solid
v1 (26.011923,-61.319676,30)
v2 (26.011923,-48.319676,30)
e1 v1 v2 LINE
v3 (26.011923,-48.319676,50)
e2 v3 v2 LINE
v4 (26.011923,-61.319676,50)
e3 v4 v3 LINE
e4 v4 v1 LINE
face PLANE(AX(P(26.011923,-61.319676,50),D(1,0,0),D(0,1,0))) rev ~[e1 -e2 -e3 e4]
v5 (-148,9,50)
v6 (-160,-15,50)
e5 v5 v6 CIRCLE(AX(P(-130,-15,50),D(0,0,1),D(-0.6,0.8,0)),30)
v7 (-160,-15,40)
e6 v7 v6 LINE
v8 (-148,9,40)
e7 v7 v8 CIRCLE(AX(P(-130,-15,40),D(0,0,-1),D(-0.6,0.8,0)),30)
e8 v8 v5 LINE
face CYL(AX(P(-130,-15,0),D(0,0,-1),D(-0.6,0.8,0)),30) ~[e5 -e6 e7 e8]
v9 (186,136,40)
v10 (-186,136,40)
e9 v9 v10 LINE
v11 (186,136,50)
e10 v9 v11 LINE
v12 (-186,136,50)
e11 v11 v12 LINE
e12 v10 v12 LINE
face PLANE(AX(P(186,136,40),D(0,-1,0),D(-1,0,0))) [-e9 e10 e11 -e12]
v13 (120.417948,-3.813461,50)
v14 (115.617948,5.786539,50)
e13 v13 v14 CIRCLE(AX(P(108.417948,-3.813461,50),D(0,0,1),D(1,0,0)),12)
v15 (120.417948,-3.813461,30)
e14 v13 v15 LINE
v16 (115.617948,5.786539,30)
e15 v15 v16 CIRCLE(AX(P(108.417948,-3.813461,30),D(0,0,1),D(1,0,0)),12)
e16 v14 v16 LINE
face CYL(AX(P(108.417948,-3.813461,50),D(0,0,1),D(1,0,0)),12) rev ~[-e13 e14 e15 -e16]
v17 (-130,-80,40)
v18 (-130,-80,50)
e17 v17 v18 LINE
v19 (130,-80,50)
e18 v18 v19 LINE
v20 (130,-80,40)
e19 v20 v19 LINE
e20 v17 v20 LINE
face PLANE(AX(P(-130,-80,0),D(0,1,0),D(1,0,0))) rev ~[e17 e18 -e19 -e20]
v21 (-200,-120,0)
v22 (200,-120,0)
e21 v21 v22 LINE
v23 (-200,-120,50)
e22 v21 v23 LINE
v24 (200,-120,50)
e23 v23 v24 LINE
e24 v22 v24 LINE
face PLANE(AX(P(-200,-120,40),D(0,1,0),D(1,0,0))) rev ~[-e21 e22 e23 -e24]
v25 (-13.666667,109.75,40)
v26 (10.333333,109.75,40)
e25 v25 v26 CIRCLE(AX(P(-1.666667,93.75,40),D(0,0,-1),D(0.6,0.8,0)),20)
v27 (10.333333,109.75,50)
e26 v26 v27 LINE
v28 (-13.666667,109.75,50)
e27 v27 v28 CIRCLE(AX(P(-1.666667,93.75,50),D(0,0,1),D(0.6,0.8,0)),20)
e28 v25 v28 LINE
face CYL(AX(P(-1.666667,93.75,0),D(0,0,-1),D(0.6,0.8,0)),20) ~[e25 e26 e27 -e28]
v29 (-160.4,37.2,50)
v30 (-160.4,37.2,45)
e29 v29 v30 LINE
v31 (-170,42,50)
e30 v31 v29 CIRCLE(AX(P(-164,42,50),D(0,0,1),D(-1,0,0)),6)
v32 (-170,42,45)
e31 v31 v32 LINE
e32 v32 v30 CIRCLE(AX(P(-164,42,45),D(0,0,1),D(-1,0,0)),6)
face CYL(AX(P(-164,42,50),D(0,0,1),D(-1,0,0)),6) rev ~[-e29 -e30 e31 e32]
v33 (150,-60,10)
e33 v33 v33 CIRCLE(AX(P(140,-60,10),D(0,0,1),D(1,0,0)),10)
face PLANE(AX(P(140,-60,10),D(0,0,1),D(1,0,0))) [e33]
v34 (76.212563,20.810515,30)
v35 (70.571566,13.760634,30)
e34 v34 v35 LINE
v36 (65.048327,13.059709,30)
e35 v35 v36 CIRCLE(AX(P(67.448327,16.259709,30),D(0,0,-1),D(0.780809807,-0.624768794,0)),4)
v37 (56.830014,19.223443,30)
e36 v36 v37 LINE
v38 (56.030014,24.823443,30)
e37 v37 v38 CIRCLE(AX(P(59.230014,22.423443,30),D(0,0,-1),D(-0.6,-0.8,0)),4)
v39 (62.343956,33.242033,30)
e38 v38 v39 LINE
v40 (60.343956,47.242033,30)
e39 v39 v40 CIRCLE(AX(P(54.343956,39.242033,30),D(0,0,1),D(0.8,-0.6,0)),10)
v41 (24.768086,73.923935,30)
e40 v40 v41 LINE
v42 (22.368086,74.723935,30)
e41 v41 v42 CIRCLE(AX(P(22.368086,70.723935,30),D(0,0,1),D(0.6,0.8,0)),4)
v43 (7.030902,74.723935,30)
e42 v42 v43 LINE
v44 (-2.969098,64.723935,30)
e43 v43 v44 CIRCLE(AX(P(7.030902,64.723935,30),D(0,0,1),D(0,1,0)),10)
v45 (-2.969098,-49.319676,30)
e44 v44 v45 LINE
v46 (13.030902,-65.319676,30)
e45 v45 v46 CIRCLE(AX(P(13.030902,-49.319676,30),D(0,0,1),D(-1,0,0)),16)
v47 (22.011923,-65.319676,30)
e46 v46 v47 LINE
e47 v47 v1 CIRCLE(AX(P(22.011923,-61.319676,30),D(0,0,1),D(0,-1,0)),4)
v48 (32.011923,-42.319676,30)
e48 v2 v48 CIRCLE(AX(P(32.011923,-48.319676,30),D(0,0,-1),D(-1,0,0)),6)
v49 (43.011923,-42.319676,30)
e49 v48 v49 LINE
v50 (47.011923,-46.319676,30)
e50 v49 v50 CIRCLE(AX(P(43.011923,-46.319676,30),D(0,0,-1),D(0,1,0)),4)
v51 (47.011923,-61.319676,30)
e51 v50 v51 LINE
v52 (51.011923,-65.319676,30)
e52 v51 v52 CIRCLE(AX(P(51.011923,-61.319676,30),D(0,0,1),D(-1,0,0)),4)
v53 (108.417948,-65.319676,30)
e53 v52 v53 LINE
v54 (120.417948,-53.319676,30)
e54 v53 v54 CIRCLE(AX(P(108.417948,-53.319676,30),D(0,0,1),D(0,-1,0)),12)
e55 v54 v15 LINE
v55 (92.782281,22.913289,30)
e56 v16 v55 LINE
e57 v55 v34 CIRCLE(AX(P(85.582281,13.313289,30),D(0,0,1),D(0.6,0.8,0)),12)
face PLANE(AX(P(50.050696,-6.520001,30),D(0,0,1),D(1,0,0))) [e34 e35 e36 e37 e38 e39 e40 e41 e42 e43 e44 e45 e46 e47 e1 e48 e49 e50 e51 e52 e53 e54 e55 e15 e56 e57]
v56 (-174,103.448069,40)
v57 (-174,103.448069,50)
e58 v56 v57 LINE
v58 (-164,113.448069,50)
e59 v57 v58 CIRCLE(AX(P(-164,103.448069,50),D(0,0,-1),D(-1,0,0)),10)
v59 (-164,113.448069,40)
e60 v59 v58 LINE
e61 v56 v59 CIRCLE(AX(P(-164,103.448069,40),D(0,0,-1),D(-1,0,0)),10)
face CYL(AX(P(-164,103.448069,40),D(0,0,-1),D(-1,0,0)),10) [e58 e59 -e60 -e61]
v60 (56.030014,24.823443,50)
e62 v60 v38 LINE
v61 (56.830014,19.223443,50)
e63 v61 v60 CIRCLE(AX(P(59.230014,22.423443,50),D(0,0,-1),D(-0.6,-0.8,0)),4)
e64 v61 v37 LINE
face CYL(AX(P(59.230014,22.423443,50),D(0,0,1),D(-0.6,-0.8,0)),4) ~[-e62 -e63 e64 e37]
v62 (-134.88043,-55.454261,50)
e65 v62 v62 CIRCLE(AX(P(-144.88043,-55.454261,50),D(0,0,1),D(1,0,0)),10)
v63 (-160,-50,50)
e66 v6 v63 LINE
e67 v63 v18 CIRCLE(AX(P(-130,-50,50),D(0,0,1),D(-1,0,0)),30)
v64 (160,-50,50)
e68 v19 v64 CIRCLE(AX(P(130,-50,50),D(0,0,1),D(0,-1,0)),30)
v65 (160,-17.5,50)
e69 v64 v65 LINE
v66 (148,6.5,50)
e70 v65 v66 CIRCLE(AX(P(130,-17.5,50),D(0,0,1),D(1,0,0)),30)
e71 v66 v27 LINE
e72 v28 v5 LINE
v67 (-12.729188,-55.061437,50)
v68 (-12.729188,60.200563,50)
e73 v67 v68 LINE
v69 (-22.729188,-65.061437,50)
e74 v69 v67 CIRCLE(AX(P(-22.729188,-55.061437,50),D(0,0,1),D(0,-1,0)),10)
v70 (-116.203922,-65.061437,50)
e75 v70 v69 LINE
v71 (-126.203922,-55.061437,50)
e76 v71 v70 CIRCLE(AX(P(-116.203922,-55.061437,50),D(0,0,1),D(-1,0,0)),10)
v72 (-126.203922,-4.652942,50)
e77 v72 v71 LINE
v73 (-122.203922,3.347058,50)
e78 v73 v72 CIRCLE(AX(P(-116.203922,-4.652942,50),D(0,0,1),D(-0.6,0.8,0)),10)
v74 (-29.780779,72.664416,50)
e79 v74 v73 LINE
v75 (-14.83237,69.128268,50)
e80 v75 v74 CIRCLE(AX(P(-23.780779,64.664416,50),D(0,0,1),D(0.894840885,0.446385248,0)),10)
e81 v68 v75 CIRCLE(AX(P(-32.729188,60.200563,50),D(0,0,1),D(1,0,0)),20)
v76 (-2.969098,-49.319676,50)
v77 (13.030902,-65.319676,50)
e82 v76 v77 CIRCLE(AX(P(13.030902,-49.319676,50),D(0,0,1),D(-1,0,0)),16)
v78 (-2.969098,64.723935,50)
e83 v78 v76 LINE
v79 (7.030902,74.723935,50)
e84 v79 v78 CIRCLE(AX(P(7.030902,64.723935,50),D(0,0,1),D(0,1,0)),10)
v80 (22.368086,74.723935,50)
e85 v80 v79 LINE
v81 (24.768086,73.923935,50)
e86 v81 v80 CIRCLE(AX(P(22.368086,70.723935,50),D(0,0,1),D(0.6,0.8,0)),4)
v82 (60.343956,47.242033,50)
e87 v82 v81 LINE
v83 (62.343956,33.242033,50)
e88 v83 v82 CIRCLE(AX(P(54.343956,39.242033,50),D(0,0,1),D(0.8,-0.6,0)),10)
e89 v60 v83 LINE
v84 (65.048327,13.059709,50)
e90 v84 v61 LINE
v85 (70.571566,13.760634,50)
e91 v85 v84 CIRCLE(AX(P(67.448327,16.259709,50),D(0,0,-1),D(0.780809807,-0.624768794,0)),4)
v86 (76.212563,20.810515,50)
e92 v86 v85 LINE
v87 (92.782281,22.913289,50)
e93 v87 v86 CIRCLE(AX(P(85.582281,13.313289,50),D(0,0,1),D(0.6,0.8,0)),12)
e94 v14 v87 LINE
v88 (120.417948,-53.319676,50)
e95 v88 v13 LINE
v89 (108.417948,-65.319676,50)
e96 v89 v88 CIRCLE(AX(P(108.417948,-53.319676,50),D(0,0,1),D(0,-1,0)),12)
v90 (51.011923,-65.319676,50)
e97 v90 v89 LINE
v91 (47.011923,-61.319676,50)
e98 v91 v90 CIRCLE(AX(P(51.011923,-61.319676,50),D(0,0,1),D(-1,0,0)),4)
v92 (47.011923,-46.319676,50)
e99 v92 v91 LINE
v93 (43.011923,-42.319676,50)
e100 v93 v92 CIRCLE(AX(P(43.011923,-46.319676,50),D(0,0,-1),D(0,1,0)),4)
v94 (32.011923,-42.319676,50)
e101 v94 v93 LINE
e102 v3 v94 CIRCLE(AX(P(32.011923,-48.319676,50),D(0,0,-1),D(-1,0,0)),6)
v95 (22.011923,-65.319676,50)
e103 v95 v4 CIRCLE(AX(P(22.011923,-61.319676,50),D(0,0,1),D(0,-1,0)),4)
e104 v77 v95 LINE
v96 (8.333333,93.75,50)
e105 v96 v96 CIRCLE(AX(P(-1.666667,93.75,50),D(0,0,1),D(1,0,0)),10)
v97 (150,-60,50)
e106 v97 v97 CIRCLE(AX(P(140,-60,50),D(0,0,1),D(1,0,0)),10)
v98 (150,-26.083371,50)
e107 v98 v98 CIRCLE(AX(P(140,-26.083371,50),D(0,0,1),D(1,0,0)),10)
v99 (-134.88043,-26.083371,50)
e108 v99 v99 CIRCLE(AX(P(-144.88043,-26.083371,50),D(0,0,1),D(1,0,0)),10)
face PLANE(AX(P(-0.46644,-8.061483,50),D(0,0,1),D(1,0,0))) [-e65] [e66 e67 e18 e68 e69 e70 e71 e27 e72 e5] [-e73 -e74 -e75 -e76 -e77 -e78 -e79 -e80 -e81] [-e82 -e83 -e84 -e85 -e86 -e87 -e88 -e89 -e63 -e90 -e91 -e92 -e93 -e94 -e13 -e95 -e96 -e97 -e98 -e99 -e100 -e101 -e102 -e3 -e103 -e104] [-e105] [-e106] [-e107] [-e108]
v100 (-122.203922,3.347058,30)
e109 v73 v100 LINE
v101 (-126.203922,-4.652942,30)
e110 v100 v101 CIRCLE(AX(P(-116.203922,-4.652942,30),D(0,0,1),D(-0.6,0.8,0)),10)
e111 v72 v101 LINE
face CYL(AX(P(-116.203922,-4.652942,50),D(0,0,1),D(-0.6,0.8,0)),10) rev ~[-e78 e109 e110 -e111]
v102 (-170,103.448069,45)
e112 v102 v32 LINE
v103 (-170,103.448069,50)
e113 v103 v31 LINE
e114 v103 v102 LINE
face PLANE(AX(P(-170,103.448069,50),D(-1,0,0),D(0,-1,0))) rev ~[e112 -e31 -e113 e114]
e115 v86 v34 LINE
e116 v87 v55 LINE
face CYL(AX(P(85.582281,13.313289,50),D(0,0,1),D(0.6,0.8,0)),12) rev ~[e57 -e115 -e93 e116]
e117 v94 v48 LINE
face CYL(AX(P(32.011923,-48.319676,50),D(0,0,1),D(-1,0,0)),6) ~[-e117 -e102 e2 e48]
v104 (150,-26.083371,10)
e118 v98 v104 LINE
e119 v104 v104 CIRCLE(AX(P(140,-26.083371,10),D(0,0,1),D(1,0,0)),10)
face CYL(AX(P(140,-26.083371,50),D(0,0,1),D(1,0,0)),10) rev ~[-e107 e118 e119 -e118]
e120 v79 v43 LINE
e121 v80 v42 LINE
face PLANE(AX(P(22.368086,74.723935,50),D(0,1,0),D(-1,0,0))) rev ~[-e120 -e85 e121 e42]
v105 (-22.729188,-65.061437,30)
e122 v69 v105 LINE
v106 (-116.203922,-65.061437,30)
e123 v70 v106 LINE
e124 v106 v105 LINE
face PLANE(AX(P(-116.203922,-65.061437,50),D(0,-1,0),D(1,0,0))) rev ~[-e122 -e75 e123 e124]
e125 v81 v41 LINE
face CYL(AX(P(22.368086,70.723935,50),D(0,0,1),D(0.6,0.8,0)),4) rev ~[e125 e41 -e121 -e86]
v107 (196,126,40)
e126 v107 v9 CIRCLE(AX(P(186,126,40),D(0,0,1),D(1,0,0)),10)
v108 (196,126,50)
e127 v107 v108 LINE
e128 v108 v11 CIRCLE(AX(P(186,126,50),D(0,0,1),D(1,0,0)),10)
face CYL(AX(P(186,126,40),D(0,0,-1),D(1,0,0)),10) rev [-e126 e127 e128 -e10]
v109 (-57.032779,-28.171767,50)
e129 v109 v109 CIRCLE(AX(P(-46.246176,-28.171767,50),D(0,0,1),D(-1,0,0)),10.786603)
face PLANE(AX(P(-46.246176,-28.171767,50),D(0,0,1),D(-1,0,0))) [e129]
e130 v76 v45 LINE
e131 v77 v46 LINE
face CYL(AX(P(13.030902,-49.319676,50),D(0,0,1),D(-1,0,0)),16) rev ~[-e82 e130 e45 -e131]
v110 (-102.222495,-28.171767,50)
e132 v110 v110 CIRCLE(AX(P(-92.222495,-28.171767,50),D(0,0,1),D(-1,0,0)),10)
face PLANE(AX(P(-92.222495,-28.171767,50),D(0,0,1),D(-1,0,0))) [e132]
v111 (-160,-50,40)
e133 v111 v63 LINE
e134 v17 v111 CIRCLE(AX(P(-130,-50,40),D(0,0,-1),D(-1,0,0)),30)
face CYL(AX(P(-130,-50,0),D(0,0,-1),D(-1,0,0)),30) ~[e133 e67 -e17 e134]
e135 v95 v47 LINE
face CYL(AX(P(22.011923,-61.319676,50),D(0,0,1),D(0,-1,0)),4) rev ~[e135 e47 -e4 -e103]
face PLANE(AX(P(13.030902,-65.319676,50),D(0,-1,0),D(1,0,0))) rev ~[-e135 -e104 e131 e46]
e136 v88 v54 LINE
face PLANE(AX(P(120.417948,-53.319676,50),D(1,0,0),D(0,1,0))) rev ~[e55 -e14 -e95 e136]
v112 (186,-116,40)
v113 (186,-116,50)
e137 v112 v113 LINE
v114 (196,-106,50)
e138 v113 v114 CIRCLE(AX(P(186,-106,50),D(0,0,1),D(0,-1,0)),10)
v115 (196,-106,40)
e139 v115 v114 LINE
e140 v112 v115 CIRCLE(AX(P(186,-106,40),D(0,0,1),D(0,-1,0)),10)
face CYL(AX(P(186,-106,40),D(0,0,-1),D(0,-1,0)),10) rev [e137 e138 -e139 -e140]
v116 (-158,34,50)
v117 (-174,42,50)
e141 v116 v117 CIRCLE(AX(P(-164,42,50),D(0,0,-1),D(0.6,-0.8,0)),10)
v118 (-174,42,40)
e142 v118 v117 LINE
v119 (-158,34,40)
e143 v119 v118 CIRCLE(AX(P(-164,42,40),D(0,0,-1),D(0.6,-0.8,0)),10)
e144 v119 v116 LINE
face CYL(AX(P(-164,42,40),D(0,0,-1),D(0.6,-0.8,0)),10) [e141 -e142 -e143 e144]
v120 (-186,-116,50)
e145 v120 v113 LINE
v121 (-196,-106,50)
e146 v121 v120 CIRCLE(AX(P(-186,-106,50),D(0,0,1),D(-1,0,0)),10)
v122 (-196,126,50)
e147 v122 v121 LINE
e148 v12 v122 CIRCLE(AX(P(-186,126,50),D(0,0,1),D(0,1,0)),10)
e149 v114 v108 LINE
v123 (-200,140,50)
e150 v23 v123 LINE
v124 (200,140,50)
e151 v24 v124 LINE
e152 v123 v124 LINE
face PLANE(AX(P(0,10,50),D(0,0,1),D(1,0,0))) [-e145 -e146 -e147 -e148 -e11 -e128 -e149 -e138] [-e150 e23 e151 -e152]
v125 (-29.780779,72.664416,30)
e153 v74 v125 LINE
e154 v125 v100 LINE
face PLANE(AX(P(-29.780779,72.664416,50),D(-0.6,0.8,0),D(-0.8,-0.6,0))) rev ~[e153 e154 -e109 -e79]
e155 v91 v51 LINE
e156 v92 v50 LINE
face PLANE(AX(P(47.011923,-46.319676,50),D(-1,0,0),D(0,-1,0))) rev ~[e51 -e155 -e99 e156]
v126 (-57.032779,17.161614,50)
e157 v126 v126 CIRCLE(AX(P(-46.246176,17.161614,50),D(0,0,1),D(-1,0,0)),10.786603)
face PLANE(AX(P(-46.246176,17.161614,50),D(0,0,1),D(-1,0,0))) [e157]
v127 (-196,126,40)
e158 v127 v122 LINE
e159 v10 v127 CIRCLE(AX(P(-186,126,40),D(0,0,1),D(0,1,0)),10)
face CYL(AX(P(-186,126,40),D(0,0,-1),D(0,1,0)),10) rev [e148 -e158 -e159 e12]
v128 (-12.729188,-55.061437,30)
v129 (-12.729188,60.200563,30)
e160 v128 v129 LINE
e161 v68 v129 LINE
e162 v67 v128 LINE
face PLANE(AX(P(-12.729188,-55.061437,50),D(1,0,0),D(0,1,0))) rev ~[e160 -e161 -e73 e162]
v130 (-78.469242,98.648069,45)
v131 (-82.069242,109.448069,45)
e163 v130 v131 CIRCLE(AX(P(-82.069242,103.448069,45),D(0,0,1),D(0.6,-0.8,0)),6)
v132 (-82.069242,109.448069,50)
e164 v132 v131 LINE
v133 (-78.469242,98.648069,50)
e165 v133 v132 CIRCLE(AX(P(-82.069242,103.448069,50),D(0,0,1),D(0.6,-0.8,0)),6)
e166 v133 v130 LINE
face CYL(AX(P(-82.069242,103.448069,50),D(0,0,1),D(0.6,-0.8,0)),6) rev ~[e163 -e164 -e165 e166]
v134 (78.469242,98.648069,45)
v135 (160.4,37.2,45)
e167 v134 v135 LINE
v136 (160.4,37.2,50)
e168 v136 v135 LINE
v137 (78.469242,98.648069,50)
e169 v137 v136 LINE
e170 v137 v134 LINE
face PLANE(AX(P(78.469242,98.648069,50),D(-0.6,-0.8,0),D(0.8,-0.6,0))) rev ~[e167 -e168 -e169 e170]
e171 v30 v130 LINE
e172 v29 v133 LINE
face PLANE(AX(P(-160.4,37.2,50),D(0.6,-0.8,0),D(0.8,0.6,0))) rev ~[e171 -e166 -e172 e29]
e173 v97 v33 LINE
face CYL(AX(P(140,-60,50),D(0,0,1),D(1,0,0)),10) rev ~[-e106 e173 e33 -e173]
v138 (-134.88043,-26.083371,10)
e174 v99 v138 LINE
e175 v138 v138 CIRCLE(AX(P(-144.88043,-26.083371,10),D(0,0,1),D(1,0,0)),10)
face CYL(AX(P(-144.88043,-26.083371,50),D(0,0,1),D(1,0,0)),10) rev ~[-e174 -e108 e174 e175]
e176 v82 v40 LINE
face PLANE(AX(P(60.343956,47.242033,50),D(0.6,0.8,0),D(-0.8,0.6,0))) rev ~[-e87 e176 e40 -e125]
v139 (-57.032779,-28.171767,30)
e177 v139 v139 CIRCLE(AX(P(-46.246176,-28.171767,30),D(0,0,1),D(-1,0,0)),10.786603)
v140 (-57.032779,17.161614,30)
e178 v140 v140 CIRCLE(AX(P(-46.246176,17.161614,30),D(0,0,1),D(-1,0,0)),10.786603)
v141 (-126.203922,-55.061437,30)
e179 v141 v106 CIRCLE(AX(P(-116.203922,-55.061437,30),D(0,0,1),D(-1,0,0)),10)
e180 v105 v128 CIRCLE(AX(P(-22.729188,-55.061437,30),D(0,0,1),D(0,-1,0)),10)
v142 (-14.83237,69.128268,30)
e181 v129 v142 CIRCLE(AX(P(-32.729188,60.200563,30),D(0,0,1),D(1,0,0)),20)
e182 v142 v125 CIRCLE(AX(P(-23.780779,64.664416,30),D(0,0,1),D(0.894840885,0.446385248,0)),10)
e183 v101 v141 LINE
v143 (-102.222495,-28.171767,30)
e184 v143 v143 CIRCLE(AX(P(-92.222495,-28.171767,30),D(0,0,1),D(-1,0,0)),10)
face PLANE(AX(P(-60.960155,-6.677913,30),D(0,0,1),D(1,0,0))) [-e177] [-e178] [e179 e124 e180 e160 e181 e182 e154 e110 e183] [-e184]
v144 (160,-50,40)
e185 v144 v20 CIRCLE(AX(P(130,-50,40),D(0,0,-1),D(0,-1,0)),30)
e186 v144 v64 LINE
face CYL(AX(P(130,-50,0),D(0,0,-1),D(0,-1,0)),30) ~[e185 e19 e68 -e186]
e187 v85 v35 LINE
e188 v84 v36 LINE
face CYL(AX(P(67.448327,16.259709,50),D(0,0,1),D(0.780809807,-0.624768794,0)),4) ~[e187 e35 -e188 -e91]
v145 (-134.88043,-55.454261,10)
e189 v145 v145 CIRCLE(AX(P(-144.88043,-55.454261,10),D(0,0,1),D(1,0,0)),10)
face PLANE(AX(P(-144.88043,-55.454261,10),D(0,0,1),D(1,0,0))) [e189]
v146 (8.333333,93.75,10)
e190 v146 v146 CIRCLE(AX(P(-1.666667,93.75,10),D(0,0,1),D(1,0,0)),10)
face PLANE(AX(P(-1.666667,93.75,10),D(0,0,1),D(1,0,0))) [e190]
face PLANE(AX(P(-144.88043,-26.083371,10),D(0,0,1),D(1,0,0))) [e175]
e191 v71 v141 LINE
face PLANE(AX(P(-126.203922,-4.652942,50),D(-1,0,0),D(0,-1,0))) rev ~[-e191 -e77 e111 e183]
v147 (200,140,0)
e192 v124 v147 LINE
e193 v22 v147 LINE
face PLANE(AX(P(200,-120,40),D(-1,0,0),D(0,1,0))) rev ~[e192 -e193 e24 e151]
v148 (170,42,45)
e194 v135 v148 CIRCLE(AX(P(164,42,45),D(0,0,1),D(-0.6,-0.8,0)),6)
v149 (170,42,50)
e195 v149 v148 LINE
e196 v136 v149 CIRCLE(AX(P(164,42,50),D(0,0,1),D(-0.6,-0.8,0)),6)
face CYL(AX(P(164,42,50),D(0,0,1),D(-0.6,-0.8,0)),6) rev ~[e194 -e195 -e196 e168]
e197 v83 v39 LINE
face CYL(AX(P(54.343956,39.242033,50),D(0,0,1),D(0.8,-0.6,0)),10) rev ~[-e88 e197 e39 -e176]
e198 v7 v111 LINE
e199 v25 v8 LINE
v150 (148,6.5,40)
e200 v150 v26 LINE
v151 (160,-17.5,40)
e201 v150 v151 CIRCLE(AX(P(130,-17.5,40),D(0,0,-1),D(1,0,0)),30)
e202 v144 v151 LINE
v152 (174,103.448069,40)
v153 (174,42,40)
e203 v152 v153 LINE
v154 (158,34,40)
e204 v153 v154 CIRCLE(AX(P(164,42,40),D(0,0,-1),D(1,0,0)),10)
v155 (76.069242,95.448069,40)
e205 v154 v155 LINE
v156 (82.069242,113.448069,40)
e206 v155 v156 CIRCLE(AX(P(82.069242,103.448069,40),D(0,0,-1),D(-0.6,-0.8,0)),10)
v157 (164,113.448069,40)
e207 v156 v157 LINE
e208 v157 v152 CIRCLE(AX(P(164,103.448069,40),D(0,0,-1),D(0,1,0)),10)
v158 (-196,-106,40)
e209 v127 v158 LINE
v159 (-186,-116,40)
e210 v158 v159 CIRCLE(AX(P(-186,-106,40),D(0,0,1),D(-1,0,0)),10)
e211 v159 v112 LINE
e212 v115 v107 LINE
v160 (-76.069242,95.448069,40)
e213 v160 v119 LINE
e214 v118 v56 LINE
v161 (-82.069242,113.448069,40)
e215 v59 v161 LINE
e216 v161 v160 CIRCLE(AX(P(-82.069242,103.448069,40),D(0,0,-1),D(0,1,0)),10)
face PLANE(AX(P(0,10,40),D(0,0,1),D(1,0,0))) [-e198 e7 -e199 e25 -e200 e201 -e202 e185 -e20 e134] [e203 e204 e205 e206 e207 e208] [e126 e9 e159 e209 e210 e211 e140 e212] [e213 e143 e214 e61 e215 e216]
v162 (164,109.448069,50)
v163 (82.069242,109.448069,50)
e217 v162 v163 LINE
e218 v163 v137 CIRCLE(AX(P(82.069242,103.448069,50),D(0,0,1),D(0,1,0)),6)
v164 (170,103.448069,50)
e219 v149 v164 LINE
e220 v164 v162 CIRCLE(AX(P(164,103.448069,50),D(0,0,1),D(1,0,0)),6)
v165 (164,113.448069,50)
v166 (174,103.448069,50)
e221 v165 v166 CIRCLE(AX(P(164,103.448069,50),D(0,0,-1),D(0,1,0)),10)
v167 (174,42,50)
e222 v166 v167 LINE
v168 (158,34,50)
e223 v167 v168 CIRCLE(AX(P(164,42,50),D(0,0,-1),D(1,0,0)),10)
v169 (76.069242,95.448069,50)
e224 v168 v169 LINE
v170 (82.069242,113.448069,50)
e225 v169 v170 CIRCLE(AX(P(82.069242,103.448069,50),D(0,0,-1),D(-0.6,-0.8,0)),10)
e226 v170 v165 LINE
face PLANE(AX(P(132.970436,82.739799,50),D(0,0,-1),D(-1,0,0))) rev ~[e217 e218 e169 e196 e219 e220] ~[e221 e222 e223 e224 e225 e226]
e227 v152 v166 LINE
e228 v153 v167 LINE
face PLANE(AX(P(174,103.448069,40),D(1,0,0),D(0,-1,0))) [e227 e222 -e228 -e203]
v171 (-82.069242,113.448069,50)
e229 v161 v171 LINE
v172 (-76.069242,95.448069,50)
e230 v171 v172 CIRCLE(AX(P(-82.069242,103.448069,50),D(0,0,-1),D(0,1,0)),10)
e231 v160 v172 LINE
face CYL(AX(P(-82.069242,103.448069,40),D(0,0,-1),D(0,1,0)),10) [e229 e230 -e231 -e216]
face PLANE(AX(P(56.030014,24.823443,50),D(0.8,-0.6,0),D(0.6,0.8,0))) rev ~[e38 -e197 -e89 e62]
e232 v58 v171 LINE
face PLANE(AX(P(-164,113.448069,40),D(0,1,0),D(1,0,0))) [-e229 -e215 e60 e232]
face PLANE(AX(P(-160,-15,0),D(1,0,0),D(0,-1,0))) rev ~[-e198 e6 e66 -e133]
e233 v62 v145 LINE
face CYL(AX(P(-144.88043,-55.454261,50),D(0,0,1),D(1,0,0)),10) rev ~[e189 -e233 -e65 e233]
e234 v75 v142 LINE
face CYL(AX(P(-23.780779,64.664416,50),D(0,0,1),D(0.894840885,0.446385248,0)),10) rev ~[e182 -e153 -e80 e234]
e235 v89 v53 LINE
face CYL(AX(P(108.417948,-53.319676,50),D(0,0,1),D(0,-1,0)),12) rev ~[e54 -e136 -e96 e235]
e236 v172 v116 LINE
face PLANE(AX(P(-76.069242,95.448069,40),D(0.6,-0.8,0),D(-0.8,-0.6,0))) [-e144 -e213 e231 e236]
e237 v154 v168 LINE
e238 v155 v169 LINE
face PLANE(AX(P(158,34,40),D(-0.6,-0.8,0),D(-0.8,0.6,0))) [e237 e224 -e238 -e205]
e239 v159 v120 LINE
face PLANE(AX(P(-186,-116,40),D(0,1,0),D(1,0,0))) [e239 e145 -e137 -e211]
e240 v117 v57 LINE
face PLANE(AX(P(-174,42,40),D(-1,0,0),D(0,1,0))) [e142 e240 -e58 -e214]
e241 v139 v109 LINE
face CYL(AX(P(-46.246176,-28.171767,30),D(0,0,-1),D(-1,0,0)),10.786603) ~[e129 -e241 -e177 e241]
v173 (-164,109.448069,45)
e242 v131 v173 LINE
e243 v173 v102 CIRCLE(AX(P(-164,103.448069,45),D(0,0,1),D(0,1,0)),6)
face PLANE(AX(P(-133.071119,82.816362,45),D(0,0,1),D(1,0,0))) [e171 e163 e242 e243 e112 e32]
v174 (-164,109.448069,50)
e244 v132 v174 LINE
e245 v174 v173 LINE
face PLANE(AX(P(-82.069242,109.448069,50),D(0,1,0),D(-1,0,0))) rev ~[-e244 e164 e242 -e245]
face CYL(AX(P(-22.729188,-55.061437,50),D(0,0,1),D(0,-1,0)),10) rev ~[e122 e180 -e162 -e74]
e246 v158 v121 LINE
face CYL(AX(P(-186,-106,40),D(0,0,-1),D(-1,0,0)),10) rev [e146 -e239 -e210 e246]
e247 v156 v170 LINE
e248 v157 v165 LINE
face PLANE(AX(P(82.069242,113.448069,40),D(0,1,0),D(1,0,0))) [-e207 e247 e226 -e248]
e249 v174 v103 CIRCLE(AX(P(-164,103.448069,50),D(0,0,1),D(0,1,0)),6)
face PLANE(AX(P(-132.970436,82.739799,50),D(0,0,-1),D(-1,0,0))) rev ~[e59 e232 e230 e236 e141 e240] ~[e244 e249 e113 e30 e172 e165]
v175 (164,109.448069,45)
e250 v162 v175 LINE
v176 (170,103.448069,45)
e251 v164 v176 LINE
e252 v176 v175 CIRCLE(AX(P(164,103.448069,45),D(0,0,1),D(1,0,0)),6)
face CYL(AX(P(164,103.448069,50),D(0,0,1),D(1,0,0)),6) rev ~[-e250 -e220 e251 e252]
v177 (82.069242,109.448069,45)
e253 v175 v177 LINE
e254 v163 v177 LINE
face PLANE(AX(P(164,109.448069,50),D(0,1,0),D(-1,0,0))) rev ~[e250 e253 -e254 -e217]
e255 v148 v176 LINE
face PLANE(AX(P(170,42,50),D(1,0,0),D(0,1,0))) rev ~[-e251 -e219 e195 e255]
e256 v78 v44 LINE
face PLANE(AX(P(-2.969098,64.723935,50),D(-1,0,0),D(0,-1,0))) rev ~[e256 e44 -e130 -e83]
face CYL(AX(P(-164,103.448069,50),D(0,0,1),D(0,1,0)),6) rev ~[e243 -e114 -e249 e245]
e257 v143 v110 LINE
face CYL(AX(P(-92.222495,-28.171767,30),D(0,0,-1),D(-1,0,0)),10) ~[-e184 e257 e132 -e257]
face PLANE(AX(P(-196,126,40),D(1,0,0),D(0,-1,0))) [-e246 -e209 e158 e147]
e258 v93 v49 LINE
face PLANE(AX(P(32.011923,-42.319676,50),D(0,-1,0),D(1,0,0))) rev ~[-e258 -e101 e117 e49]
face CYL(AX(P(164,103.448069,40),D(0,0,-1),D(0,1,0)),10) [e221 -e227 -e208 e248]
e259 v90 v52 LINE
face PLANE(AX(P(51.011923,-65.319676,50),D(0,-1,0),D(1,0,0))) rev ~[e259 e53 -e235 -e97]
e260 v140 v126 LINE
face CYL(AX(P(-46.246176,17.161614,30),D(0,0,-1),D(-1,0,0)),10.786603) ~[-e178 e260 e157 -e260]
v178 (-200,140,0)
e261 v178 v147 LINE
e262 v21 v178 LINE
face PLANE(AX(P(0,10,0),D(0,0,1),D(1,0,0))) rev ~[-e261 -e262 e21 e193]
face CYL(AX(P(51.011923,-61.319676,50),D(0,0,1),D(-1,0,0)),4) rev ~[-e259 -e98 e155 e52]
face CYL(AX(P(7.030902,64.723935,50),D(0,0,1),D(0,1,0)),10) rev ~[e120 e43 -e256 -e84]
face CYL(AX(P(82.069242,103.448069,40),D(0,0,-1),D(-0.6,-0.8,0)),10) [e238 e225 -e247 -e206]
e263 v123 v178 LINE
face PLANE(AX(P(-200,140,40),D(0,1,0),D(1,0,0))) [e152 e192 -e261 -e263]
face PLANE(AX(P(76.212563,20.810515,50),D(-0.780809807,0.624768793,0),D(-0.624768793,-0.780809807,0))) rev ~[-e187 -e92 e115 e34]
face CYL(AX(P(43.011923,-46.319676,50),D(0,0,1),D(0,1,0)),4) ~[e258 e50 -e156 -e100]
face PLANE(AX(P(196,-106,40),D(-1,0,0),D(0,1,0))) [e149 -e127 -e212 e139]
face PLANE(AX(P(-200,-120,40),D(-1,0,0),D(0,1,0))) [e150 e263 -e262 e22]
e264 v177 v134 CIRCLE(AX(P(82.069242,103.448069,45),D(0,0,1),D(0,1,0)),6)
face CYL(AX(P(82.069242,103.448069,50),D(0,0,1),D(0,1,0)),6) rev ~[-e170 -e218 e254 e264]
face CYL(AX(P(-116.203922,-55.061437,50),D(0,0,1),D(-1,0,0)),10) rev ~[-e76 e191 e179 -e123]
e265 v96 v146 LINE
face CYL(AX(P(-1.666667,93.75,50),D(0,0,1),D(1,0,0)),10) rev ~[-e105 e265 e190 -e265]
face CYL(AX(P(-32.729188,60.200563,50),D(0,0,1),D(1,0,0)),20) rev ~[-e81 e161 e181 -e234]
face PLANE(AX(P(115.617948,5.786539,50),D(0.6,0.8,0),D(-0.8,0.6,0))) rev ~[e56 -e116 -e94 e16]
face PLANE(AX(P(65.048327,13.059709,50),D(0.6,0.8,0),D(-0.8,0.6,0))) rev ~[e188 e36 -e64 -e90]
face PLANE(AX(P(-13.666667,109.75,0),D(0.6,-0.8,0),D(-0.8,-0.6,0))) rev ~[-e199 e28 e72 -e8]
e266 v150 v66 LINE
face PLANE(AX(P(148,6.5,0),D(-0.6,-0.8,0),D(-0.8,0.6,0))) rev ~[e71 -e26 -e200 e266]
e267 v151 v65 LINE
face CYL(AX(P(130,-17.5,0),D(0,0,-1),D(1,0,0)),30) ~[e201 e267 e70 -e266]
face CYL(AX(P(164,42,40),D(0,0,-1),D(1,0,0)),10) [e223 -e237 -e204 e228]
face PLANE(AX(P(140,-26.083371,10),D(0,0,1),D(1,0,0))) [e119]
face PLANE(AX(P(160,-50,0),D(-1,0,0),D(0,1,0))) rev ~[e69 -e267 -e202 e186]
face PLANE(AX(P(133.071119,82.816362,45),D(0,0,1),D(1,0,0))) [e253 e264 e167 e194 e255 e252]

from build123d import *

# Parameters (mm, degrees)
BASE_TRIANGLE_DEPTH  = 50
SKETCH5_W            = 400
SKETCH5_H            = 260
BASE_RECTANGLE_DEPTH = 40
POCKETS_DEPTH        = 20
SKETCH3_R            = 10
CUT_HOLES_DEPTH      = 40
SKETCH4_R            = 10.786602673
SKETCH4_R_2          = 10
POCKET_BOSS_DEPTH    = 20
SKETCH6_W            = 400
SKETCH6_H            = 260
RIM_DEPTH            = 10
TRI_BOSS_DEPTH       = 10
TRI_POCK_S_DEPTH     = 5


with BuildPart() as part:
    # Sketch1 → Base - Triangle (new body)
    with BuildSketch(Plane.XY):
        with BuildLine():
            Line((-13.666666667, 109.75), (-148, 9))
            ThreePointArc((-148, 9), (-156.83281573, -1.583592135), (-160, -15))
            Line((-160, -15), (-160, -50))
            ThreePointArc((-160, -50), (-151.213203436, -71.213203436), (-130, -80))
            Line((-130, -80), (130, -80))
            ThreePointArc((130, -80), (151.213203436, -71.213203436), (160, -50))
            Line((160, -50), (160, -17.5))
            ThreePointArc((160, -17.5), (156.83281573, -4.083592135), (148, 6.5))
            Line((148, 6.5), (10.333333333, 109.75))
            ThreePointArc((10.333333333, 109.75), (-1.666666667, 113.75), (-13.666666667, 109.75))
        make_face()
    extrude(amount=BASE_TRIANGLE_DEPTH)

    # Sketch5 → Base - Rectangle (add)
    with BuildSketch(Plane.XY):
        with Locations((0, 10)):
            Rectangle(SKETCH5_W, SKETCH5_H)
    extrude(amount=BASE_RECTANGLE_DEPTH)

    # Sketch2 → Pockets (cut)
    with BuildSketch(Plane.XY.offset(50)):
        with BuildLine():
            Line((-126.20392244, -4.65294183), (-126.20392244, -55.061436747))
            ThreePointArc((-126.20392244, -55.061436747), (-123.274990252, -62.132504559), (-116.20392244, -65.061436747))
            Line((-116.20392244, -65.061436747), (-22.729187789, -65.061436747))
            ThreePointArc((-22.729187789, -65.061436747), (-15.658119977, -62.132504559), (-12.729187789, -55.061436747))
            Line((-12.729187789, -55.061436747), (-12.729187789, 60.20056332))
            ThreePointArc((-12.729187789, 60.20056332), (-13.262082788, 64.786609863), (-14.832370079, 69.12826828))
            ThreePointArc((-14.832370079, 69.12826828), (-21.478744287, 74.395841003), (-29.780778934, 72.6644158))
            Line((-29.780778934, 72.6644158), (-122.20392244, 3.34705817))
            ThreePointArc((-122.20392244, 3.34705817), (-125.14819435, -0.180805875), (-126.20392244, -4.65294183))
        make_face()
        with BuildLine():
            Line((-2.969097688, 64.72393548), (-2.969097688, -49.319676422))
            ThreePointArc((-2.969097688, -49.319676422), (1.717193813, -60.633384921), (13.030902312, -65.319676422))
            Line((13.030902312, -65.319676422), (22.011923396, -65.319676422))
            ThreePointArc((22.011923396, -65.319676422), (24.840350521, -64.148103547), (26.011923396, -61.319676422))
            Line((26.011923396, -61.319676422), (26.011923396, -48.319676422))
            ThreePointArc((26.011923396, -48.319676422), (27.769282709, -44.077035735), (32.011923396, -42.319676422))
            Line((32.011923396, -42.319676422), (43.011923396, -42.319676422))
            ThreePointArc((43.011923396, -42.319676422), (45.840350521, -43.491249298), (47.011923396, -46.319676422))
            Line((47.011923396, -46.319676422), (47.011923396, -61.319676422))
            ThreePointArc((47.011923396, -61.319676422), (48.183496271, -64.148103547), (51.011923396, -65.319676422))
            Line((51.011923396, -65.319676422), (108.417947751, -65.319676422))
            ThreePointArc((108.417947751, -65.319676422), (116.903229125, -61.804957797), (120.417947751, -53.319676422))
            Line((120.417947751, -53.319676422), (120.417947751, -3.813460813))
            ThreePointArc((120.417947751, -3.813460813), (119.151074043, 1.553102333), (115.617947751, 5.786539187))
            Line((115.617947751, 5.786539187), (92.782280857, 22.913289357))
            ThreePointArc((92.782280857, 22.913289357), (84.071541357, 25.217812286), (76.212563172, 20.810514877))
            Line((76.212563172, 20.810514877), (70.571566089, 13.760633559))
            ThreePointArc((70.571566089, 13.760633559), (67.951906694, 12.291534423), (65.04832686, 13.059708732))
            Line((65.04832686, 13.059708732), (56.830014172, 19.223443248))
            ThreePointArc((56.830014172, 19.223443248), (55.270216198, 21.857757823), (56.030014172, 24.823443248))
            Line((56.030014172, 24.823443248), (62.343956311, 33.242032767))
            ThreePointArc((62.343956311, 33.242032767), (64.243451248, 40.656246329), (60.343956311, 47.242032767))
            Line((60.343956311, 47.242032767), (24.768086026, 73.92393548))
            ThreePointArc((24.768086026, 73.92393548), (23.63299709, 74.518668672), (22.368086026, 74.72393548))
            Line((22.368086026, 74.72393548), (7.030902312, 74.72393548))
            ThreePointArc((7.030902312, 74.72393548), (-0.0401655, 71.795003292), (-2.969097688, 64.72393548))
        make_face()
    extrude(amount=-POCKETS_DEPTH, mode=Mode.SUBTRACT)

    # Sketch3 → Cut - Holes (cut)
    with BuildSketch(Plane.XY.offset(50)):
        with Locations((-144.880429534, -26.083370712)):
            Circle(SKETCH3_R)
        with Locations((-144.880429534, -55.454261033)):
            Circle(SKETCH3_R)
        with Locations((140, -26.083370712)):
            Circle(SKETCH3_R)
        with Locations((140, -60)):
            Circle(SKETCH3_R)
        with Locations((-1.666666667, 93.75)):
            Circle(SKETCH3_R)
    extrude(amount=-CUT_HOLES_DEPTH, mode=Mode.SUBTRACT)

    # Sketch4 → Pocket Boss' (add)
    with BuildSketch(Plane.XY.offset(30)):
        with Locations((-46.246176072, 17.161613861)):
            Circle(SKETCH4_R)
        with Locations((-46.246176072, -28.171767173)):
            Circle(SKETCH4_R)
        with Locations((-92.222494778, -28.171767173)):
            Circle(SKETCH4_R_2)
    extrude(amount=POCKET_BOSS_DEPTH)

    # Sketch6 → Rim (add)
    with BuildSketch(Plane.XY.offset(40)):
        with Locations((0, 10)):
            Rectangle(SKETCH6_W, SKETCH6_H)
        with BuildLine():
            Line((-196, 126), (-196, -106))
            ThreePointArc((-196, -106), (-193.071067812, -113.071067812), (-186, -116))
            Line((-186, -116), (186, -116))
            ThreePointArc((186, -116), (193.071067812, -113.071067812), (196, -106))
            Line((196, -106), (196, 126))
            ThreePointArc((196, 126), (193.071067812, 133.071067812), (186, 136))
            Line((186, 136), (-186, 136))
            ThreePointArc((-186, 136), (-193.071067812, 133.071067812), (-196, 126))
        make_face(mode=Mode.SUBTRACT)
    extrude(amount=RIM_DEPTH)

    # Sketch7 → Tri - Boss' (add)
    with BuildSketch(Plane.XY.offset(40)):
        with BuildLine():
            Line((-164, 113.448068866), (-82.069241512, 113.448068866))
            ThreePointArc((-82.069241512, 113.448068866), (-72.582408532, 106.610346526), (-76.069241512, 95.448068866))
            Line((-76.069241512, 95.448068866), (-158, 34))
            ThreePointArc((-158, 34), (-168.472135955, 33.05572809), (-174, 42))
            Line((-174, 42), (-174, 103.448068866))
            ThreePointArc((-174, 103.448068866), (-171.071067812, 110.519136678), (-164, 113.448068866))
        make_face()
        with BuildLine():
            Line((158, 34), (76.069241512, 95.448068866))
            ThreePointArc((76.069241512, 95.448068866), (72.582408532, 106.610346526), (82.069241512, 113.448068866))
            Line((82.069241512, 113.448068866), (164, 113.448068866))
            ThreePointArc((164, 113.448068866), (171.071067812, 110.519136678), (174, 103.448068866))
            Line((174, 103.448068866), (174, 42))
            ThreePointArc((174, 42), (168.472135955, 33.05572809), (158, 34))
        make_face()
    extrude(amount=TRI_BOSS_DEPTH)

    # Sketch8 → Tri - Pock's (cut)
    with BuildSketch(Plane.XY.offset(50)):
        with BuildLine():
            Line((-82.069241512, 109.448068866), (-164, 109.448068866))
            ThreePointArc((-164, 109.448068866), (-168.242640687, 107.690709553), (-170, 103.448068866))
            Line((-170, 103.448068866), (-170, 42))
            ThreePointArc((-170, 42), (-166.683281573, 36.633436854), (-160.4, 37.2))
            Line((-160.4, 37.2), (-78.469241512, 98.648068866))
            ThreePointArc((-78.469241512, 98.648068866), (-76.377141724, 105.345435462), (-82.069241512, 109.448068866))
        make_face()
        with BuildLine():
            Line((170, 42), (170, 103.448068866))
            ThreePointArc((170, 103.448068866), (168.242640687, 107.690709553), (164, 109.448068866))
            Line((164, 109.448068866), (82.069241512, 109.448068866))
            ThreePointArc((82.069241512, 109.448068866), (76.377141724, 105.345435462), (78.469241512, 98.648068866))
            Line((78.469241512, 98.648068866), (160.4, 37.2))
            ThreePointArc((160.4, 37.2), (166.683281573, 36.633436854), (170, 42))
        make_face()
    extrude(amount=-TRI_POCK_S_DEPTH, mode=Mode.SUBTRACT)


solid = part.part
